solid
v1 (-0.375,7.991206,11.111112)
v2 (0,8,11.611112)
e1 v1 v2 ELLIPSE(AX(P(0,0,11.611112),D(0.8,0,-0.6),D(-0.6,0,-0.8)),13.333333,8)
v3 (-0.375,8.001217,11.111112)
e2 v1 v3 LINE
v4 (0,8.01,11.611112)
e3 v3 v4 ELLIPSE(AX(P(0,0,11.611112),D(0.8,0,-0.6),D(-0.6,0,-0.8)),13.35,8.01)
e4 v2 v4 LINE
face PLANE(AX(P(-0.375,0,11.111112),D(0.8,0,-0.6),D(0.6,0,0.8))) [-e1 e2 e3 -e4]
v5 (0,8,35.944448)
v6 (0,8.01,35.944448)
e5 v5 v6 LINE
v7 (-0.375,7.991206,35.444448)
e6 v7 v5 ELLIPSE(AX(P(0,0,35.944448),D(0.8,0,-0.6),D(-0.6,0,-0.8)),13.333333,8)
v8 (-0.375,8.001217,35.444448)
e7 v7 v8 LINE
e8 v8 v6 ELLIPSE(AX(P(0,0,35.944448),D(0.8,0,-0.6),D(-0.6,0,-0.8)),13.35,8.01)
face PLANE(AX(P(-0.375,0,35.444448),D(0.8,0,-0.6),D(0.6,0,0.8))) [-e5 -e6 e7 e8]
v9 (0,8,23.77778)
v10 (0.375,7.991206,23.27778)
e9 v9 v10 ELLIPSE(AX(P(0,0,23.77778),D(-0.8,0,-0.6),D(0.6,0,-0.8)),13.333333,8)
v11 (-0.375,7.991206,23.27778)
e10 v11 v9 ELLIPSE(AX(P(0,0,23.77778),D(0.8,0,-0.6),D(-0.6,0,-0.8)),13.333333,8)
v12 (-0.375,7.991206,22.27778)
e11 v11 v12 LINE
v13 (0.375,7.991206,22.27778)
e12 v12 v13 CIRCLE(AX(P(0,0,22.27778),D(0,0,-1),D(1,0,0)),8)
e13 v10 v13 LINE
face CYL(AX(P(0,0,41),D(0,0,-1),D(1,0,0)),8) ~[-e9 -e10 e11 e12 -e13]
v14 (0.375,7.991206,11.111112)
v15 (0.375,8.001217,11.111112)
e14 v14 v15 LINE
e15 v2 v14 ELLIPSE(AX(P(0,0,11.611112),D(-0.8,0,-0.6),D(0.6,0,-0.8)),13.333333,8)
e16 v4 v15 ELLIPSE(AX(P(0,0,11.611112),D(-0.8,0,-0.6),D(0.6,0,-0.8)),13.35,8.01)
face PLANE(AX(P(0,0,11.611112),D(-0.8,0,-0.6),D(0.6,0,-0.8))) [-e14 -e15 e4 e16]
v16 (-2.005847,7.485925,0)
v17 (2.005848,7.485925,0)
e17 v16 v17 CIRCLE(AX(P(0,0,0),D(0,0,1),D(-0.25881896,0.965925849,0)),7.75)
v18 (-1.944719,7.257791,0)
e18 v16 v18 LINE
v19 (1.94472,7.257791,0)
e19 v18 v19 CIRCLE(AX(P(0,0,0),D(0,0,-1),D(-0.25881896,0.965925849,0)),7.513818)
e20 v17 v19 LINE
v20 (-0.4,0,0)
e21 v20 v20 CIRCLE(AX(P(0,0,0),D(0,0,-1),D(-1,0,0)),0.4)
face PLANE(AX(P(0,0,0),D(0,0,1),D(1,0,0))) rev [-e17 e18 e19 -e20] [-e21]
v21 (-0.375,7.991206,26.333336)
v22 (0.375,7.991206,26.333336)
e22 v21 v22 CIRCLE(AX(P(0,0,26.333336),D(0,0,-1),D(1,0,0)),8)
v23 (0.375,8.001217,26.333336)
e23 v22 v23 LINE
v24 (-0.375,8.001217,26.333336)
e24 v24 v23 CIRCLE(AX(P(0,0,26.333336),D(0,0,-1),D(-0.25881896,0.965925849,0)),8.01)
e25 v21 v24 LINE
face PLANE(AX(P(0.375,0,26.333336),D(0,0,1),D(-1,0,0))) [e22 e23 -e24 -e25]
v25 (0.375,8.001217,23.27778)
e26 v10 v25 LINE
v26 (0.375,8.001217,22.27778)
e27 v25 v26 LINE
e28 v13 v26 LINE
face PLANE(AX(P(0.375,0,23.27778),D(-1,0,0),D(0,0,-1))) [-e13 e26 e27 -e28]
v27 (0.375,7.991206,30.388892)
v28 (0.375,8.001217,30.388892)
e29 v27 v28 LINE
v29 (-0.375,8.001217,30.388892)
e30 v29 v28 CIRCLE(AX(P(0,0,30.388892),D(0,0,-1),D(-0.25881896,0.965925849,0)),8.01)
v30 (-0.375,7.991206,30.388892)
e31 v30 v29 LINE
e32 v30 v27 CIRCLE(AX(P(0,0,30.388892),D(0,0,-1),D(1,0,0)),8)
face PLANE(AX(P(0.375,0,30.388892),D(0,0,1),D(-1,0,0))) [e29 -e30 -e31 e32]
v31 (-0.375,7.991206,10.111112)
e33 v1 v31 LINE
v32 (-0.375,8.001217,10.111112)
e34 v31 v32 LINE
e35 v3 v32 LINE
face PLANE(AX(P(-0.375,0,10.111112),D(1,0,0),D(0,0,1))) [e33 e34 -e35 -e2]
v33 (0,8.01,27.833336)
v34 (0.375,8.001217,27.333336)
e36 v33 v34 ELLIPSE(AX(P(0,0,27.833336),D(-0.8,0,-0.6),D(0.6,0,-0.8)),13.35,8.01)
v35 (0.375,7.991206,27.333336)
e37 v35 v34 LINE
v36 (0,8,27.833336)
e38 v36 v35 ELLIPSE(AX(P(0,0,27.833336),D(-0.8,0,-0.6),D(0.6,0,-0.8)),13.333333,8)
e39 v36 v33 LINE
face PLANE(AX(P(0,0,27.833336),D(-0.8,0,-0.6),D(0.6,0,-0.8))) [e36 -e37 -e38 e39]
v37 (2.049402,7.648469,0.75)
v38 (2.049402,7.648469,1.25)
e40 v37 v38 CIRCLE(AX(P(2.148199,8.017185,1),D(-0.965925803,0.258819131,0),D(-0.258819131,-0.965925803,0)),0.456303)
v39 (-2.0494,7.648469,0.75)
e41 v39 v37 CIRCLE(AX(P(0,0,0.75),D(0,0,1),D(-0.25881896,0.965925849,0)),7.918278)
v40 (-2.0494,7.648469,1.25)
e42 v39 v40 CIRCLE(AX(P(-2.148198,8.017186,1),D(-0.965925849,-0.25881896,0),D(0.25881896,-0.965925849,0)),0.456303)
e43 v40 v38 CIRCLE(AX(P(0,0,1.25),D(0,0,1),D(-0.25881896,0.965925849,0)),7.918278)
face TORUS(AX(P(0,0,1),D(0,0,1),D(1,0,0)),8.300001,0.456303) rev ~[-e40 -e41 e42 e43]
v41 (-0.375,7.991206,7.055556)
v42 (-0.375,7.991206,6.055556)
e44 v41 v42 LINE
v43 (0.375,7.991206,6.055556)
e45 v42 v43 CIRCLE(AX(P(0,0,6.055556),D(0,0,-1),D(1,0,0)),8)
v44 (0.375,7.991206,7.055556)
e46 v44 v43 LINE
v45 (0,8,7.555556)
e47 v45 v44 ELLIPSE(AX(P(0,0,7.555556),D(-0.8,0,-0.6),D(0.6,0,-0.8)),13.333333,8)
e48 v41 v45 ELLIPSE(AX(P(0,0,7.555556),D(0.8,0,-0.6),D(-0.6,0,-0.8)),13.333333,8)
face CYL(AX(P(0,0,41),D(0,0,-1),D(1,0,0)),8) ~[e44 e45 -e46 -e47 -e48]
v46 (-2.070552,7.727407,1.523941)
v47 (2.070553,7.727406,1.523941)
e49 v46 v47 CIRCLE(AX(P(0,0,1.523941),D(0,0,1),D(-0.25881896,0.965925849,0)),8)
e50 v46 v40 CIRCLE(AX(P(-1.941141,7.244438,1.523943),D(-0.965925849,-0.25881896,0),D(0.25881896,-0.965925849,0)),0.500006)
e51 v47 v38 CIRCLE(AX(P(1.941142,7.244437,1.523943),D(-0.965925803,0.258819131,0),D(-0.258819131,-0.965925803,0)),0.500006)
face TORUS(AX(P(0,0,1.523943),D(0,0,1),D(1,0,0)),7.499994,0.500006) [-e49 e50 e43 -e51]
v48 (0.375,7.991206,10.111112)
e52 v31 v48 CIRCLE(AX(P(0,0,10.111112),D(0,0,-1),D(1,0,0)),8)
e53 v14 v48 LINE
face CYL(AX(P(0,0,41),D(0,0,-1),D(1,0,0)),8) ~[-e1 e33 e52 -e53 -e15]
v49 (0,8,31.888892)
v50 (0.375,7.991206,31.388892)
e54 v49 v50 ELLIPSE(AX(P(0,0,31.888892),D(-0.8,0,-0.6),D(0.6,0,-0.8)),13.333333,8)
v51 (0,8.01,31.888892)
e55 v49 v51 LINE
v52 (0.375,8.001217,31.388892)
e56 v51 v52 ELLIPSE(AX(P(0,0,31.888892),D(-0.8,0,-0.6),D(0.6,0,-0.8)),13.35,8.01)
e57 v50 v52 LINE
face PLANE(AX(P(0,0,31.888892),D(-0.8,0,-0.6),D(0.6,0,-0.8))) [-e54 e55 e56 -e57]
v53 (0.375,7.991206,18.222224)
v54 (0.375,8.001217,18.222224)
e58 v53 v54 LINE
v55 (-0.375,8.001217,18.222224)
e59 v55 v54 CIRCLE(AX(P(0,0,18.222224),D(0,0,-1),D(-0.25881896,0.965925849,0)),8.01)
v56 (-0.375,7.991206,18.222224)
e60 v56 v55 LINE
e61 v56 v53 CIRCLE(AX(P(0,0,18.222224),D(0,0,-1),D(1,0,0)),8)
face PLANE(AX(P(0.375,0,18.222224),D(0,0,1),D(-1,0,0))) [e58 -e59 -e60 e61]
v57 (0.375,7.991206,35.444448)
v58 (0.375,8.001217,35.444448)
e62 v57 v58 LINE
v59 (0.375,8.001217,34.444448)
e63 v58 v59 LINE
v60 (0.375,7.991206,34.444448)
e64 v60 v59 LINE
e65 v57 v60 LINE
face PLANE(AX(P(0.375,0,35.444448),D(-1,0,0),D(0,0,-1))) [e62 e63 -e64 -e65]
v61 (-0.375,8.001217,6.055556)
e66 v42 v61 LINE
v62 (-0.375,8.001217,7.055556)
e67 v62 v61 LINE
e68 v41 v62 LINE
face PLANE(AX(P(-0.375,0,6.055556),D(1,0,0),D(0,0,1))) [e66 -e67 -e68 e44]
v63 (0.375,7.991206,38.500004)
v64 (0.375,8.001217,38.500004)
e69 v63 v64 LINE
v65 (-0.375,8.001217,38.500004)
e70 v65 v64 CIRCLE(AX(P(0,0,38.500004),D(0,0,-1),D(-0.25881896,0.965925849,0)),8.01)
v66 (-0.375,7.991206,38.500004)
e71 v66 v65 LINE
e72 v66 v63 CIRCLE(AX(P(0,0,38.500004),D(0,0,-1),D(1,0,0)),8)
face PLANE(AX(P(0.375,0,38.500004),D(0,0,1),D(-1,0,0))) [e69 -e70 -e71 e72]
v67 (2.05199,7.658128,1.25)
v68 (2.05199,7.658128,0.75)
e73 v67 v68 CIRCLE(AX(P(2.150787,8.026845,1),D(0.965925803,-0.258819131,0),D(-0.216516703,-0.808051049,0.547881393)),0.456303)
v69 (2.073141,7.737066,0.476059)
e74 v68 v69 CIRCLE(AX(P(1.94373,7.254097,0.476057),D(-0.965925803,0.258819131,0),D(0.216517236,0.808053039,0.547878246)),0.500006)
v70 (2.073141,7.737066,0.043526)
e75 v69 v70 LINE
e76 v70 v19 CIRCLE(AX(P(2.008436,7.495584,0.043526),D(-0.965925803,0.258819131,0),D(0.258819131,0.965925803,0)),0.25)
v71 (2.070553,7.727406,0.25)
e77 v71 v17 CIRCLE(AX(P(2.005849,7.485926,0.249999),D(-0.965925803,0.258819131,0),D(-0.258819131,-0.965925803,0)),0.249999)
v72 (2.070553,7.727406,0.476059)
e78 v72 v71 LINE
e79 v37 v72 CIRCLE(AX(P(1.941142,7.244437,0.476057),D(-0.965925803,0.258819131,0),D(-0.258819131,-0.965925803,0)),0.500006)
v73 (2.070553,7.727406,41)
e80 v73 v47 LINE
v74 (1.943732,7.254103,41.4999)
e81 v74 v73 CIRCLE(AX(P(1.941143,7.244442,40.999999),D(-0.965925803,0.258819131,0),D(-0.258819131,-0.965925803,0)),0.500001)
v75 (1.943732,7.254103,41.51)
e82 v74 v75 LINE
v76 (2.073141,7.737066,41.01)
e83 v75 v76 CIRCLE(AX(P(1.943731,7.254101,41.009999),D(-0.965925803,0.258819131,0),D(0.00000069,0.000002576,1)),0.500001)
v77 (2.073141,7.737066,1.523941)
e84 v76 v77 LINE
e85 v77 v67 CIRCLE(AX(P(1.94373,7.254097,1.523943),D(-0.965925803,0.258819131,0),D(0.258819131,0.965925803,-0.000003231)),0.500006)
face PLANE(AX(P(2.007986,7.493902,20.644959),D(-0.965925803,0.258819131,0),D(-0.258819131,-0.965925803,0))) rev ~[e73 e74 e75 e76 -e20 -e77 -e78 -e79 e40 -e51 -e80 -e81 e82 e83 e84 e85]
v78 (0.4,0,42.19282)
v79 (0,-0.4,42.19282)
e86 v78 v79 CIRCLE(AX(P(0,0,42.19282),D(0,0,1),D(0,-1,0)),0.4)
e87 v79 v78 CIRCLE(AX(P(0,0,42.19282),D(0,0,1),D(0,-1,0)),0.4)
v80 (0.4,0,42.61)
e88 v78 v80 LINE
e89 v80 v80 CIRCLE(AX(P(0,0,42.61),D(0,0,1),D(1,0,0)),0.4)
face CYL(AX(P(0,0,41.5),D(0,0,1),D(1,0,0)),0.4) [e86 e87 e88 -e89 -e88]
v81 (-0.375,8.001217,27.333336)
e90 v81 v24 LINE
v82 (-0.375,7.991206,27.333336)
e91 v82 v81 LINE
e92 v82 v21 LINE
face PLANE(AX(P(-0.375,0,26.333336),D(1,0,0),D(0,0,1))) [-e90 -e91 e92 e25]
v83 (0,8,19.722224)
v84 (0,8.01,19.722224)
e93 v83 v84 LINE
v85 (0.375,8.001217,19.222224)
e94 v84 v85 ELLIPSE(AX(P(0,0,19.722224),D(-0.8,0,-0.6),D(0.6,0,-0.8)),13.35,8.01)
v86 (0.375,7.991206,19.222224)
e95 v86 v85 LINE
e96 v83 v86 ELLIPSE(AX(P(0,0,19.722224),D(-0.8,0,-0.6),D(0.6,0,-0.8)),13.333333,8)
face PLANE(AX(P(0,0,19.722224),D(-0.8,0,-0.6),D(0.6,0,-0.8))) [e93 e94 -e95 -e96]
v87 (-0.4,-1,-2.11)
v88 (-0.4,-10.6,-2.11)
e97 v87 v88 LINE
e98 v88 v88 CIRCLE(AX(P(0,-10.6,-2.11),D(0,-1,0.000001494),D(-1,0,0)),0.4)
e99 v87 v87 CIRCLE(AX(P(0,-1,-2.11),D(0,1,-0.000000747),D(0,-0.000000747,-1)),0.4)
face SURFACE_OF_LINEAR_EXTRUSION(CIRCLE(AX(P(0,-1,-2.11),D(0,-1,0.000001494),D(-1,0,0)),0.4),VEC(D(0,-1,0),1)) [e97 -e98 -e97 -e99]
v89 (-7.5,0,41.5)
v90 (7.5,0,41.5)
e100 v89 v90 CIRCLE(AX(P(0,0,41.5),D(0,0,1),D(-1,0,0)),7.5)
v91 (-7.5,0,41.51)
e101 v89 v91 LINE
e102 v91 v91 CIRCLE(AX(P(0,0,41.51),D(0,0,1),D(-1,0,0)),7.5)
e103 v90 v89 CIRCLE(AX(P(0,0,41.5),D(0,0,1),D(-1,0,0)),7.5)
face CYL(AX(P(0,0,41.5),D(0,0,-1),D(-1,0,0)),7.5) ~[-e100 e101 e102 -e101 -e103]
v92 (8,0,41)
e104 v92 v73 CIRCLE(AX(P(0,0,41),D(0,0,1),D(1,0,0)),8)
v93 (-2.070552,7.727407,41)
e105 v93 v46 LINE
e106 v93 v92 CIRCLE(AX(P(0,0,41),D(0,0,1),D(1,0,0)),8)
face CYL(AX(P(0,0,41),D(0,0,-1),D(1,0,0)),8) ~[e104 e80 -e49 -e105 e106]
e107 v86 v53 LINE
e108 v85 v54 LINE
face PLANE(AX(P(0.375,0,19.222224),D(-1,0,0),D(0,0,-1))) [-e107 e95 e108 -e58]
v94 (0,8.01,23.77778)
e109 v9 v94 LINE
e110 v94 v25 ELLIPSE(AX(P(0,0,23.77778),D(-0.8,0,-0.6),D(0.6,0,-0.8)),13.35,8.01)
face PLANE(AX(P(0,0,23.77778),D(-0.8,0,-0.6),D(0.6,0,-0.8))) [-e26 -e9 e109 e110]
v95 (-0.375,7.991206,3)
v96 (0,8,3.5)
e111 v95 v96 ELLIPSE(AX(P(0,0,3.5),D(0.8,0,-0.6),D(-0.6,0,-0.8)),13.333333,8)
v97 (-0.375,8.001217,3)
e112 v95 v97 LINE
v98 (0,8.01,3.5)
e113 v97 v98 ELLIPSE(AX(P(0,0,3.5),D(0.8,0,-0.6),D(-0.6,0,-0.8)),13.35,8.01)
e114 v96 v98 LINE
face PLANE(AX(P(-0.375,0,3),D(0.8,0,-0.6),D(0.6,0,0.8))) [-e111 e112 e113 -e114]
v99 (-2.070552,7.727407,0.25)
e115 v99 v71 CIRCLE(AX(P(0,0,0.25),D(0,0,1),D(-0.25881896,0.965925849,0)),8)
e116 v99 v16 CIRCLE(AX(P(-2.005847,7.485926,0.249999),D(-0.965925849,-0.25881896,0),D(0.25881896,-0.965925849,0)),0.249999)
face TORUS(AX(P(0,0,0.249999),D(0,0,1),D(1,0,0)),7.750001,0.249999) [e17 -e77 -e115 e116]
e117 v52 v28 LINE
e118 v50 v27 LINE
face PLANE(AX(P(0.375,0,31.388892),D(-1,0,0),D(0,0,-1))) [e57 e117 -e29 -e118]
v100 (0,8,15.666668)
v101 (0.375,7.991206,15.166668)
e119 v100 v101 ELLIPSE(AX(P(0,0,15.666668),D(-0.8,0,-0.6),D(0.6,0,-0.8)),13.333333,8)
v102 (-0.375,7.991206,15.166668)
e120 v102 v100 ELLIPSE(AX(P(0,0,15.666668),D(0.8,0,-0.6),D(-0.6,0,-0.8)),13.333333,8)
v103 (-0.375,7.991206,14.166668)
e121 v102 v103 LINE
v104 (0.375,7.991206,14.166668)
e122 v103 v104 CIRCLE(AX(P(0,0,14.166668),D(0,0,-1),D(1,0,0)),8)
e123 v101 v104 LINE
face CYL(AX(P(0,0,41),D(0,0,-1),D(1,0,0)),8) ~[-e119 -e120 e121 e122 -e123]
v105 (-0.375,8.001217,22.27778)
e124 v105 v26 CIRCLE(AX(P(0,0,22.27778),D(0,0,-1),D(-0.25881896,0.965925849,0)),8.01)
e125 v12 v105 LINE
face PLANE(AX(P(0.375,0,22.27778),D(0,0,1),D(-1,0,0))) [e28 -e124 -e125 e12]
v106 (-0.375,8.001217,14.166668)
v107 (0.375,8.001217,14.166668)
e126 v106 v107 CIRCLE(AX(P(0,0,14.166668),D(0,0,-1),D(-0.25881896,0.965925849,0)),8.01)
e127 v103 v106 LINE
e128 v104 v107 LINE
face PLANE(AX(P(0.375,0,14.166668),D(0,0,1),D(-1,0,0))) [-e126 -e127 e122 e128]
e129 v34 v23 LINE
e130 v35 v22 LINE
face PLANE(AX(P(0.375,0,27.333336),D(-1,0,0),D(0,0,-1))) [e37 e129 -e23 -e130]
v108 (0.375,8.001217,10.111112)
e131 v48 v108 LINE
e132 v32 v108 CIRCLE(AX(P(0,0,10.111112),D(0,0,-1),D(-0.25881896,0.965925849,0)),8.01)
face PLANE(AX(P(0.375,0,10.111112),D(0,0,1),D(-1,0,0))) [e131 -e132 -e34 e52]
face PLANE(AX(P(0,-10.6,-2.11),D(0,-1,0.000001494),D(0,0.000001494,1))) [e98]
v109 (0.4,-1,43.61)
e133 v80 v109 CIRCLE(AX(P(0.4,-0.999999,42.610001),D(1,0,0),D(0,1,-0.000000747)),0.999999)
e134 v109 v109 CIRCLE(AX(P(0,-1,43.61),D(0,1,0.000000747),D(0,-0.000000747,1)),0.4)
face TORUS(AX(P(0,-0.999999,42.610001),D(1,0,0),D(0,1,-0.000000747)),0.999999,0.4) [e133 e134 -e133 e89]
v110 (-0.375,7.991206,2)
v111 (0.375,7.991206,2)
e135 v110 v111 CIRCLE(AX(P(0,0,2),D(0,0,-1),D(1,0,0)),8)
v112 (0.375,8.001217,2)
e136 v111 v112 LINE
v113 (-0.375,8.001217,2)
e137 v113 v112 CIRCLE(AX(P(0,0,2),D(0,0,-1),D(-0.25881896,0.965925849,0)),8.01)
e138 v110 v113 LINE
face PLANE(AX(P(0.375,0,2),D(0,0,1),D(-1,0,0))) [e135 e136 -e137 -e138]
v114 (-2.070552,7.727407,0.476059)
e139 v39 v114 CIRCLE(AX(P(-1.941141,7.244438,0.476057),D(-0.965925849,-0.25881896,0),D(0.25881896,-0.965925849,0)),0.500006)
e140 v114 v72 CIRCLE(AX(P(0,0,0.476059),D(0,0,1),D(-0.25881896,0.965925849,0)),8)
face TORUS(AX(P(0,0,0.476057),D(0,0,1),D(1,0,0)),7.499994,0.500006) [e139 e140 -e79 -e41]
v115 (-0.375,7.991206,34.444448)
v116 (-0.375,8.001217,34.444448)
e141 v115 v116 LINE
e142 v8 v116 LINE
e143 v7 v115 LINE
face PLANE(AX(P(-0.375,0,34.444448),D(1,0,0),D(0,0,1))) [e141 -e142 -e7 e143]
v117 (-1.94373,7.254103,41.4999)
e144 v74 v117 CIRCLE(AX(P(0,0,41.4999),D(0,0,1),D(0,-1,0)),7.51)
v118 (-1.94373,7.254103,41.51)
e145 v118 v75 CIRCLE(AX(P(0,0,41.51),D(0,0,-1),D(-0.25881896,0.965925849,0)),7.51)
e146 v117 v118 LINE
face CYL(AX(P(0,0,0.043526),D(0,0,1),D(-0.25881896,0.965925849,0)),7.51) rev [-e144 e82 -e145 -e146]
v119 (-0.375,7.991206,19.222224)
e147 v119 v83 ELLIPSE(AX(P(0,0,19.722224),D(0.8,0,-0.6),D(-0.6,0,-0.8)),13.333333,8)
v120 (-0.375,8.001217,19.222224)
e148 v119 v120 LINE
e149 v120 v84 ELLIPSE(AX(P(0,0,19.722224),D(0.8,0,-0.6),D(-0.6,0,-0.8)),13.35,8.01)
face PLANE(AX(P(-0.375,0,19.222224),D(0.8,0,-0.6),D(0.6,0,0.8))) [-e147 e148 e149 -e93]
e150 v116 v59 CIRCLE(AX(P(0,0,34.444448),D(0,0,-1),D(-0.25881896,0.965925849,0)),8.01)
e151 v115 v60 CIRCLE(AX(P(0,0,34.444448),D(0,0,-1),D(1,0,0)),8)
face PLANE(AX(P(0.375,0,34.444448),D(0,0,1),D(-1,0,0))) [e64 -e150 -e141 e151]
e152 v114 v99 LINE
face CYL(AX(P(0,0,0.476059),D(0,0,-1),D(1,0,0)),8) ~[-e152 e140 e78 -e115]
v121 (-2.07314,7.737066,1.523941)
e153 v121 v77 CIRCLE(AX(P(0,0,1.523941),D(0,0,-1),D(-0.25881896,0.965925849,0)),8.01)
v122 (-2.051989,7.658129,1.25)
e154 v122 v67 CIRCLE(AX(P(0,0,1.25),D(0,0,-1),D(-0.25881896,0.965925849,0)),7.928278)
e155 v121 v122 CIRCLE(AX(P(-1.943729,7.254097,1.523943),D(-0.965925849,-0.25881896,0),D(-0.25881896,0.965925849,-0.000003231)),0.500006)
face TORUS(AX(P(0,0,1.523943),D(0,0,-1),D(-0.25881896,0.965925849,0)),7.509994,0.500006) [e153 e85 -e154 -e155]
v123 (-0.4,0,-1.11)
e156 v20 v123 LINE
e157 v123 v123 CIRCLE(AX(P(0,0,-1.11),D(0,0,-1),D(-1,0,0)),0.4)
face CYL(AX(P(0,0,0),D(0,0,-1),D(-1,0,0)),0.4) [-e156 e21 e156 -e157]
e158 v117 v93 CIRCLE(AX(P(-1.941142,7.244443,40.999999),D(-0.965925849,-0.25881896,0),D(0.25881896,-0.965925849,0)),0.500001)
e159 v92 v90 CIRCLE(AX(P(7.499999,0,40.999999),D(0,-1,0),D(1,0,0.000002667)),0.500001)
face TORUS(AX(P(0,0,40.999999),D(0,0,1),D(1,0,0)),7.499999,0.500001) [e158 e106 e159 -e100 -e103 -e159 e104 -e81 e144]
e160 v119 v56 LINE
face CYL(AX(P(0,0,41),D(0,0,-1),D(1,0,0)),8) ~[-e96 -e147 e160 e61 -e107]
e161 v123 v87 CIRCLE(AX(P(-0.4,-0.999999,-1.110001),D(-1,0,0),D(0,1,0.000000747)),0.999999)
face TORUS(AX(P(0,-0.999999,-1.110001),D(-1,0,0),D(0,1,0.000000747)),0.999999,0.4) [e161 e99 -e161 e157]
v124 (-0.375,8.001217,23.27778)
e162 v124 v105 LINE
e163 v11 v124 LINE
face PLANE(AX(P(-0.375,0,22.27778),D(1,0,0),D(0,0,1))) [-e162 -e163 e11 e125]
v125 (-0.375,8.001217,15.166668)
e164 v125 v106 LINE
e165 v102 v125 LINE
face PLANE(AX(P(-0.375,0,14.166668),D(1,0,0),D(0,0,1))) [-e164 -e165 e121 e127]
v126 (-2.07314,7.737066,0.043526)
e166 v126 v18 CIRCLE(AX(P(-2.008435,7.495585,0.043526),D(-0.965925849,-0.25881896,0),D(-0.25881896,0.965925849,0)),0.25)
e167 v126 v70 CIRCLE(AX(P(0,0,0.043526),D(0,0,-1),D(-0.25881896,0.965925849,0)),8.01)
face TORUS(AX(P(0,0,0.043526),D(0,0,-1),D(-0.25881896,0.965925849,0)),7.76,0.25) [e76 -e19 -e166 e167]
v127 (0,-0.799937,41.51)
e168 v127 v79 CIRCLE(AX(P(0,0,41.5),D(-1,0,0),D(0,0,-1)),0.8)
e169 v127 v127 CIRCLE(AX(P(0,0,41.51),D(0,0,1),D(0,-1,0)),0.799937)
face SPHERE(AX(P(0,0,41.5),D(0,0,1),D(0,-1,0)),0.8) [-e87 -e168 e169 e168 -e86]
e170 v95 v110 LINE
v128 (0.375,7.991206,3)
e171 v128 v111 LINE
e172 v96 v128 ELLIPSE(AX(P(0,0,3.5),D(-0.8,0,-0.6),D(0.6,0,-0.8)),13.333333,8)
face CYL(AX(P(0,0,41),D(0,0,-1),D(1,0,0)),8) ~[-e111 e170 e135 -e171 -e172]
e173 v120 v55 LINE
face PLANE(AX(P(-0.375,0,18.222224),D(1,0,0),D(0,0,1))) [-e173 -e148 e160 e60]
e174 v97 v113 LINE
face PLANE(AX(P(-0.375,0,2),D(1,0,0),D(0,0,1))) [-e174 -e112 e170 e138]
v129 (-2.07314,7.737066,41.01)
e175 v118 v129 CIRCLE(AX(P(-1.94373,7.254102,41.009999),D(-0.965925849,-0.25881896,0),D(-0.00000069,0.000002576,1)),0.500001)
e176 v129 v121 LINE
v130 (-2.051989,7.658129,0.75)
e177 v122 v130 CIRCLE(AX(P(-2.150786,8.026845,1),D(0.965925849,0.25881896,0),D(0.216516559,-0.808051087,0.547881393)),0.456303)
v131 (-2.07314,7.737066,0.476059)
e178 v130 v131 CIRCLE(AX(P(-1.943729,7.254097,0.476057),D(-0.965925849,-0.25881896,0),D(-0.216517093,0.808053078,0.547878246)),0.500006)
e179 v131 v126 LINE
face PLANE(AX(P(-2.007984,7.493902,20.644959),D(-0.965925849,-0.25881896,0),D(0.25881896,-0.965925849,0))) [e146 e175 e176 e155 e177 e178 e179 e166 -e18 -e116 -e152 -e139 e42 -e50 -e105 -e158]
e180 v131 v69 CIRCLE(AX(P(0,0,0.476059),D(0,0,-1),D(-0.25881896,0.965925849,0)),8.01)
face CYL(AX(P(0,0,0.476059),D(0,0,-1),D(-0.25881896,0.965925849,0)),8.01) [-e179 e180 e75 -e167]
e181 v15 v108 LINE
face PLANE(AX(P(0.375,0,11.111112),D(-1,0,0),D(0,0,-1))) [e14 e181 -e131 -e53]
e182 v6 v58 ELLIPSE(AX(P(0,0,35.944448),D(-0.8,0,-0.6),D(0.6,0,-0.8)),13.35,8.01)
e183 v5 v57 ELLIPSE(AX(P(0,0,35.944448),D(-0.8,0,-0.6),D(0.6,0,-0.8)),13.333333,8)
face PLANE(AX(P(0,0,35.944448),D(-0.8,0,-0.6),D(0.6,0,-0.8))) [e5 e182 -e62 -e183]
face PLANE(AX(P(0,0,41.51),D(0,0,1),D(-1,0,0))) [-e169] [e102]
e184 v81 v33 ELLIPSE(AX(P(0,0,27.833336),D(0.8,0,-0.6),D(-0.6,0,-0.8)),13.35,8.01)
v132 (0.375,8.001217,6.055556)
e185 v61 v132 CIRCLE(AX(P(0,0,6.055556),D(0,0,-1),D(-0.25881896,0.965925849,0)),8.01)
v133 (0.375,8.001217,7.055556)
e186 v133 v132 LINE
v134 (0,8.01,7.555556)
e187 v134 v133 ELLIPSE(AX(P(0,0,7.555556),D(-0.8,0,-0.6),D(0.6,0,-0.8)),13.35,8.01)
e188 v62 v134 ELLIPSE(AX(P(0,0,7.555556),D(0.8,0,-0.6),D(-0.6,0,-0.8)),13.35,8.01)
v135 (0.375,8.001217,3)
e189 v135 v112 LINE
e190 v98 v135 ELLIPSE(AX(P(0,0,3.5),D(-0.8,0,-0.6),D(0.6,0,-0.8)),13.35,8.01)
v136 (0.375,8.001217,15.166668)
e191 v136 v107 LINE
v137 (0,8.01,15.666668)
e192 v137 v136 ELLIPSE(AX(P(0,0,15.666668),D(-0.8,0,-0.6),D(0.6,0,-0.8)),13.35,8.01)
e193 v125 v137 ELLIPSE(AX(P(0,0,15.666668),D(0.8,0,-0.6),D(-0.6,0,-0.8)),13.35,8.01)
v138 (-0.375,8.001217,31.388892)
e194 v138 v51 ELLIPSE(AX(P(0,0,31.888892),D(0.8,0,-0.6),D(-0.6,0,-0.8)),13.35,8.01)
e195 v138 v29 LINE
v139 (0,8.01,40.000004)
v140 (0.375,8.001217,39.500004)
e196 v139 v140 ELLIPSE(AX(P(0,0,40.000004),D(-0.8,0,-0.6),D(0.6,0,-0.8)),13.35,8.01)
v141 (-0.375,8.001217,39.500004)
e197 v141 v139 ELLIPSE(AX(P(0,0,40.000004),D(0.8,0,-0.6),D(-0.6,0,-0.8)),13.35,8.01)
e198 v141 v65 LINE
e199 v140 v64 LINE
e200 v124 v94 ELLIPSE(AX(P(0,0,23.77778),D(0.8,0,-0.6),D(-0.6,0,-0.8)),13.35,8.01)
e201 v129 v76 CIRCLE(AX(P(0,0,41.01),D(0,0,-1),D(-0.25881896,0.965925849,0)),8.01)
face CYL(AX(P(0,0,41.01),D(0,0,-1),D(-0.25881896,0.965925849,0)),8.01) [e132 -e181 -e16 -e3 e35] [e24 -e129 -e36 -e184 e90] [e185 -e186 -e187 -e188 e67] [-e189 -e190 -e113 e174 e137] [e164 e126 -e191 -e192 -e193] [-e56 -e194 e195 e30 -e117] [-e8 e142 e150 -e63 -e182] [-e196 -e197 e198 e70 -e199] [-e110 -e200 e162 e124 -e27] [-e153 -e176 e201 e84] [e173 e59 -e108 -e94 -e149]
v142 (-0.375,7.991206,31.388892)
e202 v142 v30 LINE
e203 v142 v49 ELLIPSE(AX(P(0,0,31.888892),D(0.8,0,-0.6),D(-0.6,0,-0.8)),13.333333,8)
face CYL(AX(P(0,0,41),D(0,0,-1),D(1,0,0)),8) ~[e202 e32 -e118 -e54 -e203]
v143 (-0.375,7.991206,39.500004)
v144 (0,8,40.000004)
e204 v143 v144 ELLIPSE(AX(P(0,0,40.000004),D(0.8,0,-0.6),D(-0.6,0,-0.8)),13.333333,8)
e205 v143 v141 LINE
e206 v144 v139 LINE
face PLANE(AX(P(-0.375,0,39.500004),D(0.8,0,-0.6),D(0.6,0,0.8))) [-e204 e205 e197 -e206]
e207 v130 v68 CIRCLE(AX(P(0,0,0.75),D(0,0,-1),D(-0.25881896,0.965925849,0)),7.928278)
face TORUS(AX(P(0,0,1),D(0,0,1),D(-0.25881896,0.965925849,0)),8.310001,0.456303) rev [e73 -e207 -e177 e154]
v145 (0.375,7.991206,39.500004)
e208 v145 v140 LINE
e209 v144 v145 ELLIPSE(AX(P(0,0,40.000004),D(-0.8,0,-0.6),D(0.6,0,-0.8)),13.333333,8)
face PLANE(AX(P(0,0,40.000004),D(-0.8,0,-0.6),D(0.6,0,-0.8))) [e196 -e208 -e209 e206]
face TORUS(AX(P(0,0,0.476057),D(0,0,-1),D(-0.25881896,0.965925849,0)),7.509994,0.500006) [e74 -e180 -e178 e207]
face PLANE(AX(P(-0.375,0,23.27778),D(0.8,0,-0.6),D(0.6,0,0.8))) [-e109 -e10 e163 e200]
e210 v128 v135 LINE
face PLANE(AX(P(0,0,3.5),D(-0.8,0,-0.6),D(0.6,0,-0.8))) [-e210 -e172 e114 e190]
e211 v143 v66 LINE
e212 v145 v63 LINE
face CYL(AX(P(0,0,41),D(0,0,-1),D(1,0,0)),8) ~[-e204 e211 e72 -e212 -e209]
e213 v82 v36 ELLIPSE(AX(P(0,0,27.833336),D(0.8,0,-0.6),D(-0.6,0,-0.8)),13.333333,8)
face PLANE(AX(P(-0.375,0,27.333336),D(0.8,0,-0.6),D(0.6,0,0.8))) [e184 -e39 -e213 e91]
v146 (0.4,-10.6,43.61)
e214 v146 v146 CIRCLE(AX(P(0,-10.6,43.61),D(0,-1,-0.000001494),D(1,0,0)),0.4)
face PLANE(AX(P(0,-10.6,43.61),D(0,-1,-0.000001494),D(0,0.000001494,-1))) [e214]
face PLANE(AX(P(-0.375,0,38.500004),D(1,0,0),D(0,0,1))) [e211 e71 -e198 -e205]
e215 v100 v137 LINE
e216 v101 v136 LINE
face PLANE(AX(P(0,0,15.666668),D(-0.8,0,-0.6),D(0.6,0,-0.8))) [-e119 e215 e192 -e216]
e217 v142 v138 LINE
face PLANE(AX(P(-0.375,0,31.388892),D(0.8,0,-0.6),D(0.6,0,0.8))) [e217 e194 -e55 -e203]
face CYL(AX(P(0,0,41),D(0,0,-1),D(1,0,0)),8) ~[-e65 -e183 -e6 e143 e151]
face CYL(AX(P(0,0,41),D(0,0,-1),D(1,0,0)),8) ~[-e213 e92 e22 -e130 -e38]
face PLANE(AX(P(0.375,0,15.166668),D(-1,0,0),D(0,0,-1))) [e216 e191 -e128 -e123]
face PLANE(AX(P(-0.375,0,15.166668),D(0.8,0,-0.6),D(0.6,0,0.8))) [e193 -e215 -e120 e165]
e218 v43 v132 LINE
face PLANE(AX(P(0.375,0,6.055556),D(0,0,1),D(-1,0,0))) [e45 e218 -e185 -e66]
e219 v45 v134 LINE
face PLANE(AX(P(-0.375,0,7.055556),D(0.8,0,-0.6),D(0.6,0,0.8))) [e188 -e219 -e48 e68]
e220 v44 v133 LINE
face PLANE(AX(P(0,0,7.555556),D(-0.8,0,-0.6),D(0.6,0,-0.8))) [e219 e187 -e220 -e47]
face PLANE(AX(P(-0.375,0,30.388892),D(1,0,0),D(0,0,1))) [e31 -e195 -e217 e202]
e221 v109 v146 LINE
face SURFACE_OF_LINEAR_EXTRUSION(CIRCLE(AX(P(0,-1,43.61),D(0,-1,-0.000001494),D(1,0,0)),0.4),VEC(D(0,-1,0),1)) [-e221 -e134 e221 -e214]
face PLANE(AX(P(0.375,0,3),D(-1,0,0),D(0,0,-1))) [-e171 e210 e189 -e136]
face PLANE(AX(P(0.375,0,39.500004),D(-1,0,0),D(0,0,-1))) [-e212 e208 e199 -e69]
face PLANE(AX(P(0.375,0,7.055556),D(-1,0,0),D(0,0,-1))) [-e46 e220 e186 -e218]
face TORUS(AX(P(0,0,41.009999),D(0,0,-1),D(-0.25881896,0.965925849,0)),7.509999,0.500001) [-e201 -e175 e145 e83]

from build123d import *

# Parameters (mm, degrees)
SKETCH011_R             = 0.4
BODY007_PLACEMENT_ANGLE = 180
REVOLUTION001_ANGLE     = -30
POCKET_DEPTH            = 8.011
LINEARPATTERN_COUNT     = 10
LINEARPATTERN_PITCH     = 4.055556
SKETCH012_R             = 7.5
PAD_DEPTH               = 0.01
BODY008_PLACEMENT_ANGLE = 90


with BuildPart() as lead:
    # AdditivePipe: sweep along a path in Sketch010
    with BuildLine(Plane(origin=(0, 0, 0), x_dir=(0, -1, 0), z_dir=(-1, 0, 0))) as additivepipe_path:
        Line((0, 41.5), (0, 42.61))
        ThreePointArc((0, 42.61), (0.292893, 43.317107), (1, 43.61))
        Line((1, 43.61), (10.6, 43.61))
    # Sketch011 → AdditivePipe (sweep)
    with BuildSketch(Plane.XY.offset(41.5)):
        Circle(SKETCH011_R)
    sweep(path=additivepipe_path.line)


with BuildPart() as leadclone:
    # Body007 base: copy of Lead
    add(lead.part)


with BuildPart() as leadclone_1:
    # Body007 placement: moved
    add(leadclone.part.moved(Location((0, 0, 41.5))).rotate(Axis((0, 0, 41.5), (0, 1, 0)), BODY007_PLACEMENT_ANGLE))


with BuildPart() as polaritymarking:
    # Sketch005 → Revolution001 (revolve)
    with BuildSketch(Plane(origin=(0, 0, 0), x_dir=(-0.258819, 0.965926, 0), z_dir=(0.965926, 0.258819, 0))):
        with BuildLine():
            Line((7.51, 0.043526), (7.51, 41.51))
            ThreePointArc((7.51, 41.51), (7.863553, 41.363553), (8.01, 41.01))
            Line((8.01, 41.01), (8.01, 1.523941))
            ThreePointArc((8.01, 1.523941), (7.989134, 1.381006), (7.928278, 1.25))
            ThreePointArc((7.928278, 1.25), (7.853698, 1), (7.928278, 0.75))
            ThreePointArc((7.928278, 0.75), (7.989134, 0.618994), (8.01, 0.476059))
            Line((8.01, 0.476059), (8.01, 0.043526))
            ThreePointArc((8.01, 0.043526), (7.76, -0.206474), (7.51, 0.043526))
        make_face()
    revolve(axis=Axis((0, 0, 0), (0, 0, 1)), revolution_arc=REVOLUTION001_ANGLE)

    # Sketch013 → Pocket (cut, through all)
    with BuildSketch(Plane.XZ):
        Polygon((0.375, 2), (-0.375, 2), (-0.375, 3), (0, 3.5), (0.375, 3), align=None)
    pocket = extrude(amount=-POCKET_DEPTH, mode=Mode.SUBTRACT)

    # LinearPattern: Pocket ×10
    with Locations(*[(0, 0, i * LINEARPATTERN_PITCH) for i in range(1, LINEARPATTERN_COUNT)]):
        add(pocket, mode=Mode.SUBTRACT)


with BuildPart() as housing:
    # Sketch → Revolution (revolve)
    with BuildSketch(Plane.XZ):
        with BuildLine():
            Line((0, 41.5), (7.5, 41.5))
            ThreePointArc((8, 41), (7.853553, 41.353553), (7.5, 41.5))
            Line((8, 41), (8, 1.523941))
            ThreePointArc((7.918278, 1.25), (7.979134, 1.381006), (8, 1.523941))
            ThreePointArc((7.918278, 1.25), (7.843698, 1), (7.918278, 0.75))
            ThreePointArc((8, 0.476059), (7.979134, 0.618994), (7.918278, 0.75))
            Line((8, 0.476059), (8, 0.25))
            ThreePointArc((7.75, 0), (7.926777, 0.073223), (8, 0.25))
            Line((0, 0), (7.75, 0))
            Line((0, 41.5), (0, 0))
        make_face()
    revolve(axis=Axis((0, 0, 0), (0, 0, 1)))


with BuildPart() as fusion:
    # Sphere → Sphere (revolve)
    with BuildSketch(Plane.XZ):
        with BuildLine():
            ThreePointArc((0, -0.8), (0.8, 0), (0, 0.8))
            Line((0, 0.8), (0, -0.8))
        make_face()
    revolve(axis=Axis((0, 0, 0), (0, 0, 1)))

    # Sketch012 (on ShapeBinder) → Pad (new body)
    with BuildSketch(Plane(origin=(0, 0, 0), x_dir=(0, -1, 0), z_dir=(0, 0, 1))):
        Circle(SKETCH012_R)
    extrude(amount=PAD_DEPTH)


with BuildPart() as fusion_1:
    # Body008 placement: moved
    add(fusion.part.moved(Location((0, 0, 41.5))).rotate(Axis((0, 0, 41.5), (0, 0, -1)), BODY008_PLACEMENT_ANGLE))

    # Fusion: union LeadClone, Lead, PolarityMarking, Housing
    add(leadclone_1.part)
    add(lead.part)
    add(polaritymarking.part)
    add(housing.part)


solid = fusion_1.part
